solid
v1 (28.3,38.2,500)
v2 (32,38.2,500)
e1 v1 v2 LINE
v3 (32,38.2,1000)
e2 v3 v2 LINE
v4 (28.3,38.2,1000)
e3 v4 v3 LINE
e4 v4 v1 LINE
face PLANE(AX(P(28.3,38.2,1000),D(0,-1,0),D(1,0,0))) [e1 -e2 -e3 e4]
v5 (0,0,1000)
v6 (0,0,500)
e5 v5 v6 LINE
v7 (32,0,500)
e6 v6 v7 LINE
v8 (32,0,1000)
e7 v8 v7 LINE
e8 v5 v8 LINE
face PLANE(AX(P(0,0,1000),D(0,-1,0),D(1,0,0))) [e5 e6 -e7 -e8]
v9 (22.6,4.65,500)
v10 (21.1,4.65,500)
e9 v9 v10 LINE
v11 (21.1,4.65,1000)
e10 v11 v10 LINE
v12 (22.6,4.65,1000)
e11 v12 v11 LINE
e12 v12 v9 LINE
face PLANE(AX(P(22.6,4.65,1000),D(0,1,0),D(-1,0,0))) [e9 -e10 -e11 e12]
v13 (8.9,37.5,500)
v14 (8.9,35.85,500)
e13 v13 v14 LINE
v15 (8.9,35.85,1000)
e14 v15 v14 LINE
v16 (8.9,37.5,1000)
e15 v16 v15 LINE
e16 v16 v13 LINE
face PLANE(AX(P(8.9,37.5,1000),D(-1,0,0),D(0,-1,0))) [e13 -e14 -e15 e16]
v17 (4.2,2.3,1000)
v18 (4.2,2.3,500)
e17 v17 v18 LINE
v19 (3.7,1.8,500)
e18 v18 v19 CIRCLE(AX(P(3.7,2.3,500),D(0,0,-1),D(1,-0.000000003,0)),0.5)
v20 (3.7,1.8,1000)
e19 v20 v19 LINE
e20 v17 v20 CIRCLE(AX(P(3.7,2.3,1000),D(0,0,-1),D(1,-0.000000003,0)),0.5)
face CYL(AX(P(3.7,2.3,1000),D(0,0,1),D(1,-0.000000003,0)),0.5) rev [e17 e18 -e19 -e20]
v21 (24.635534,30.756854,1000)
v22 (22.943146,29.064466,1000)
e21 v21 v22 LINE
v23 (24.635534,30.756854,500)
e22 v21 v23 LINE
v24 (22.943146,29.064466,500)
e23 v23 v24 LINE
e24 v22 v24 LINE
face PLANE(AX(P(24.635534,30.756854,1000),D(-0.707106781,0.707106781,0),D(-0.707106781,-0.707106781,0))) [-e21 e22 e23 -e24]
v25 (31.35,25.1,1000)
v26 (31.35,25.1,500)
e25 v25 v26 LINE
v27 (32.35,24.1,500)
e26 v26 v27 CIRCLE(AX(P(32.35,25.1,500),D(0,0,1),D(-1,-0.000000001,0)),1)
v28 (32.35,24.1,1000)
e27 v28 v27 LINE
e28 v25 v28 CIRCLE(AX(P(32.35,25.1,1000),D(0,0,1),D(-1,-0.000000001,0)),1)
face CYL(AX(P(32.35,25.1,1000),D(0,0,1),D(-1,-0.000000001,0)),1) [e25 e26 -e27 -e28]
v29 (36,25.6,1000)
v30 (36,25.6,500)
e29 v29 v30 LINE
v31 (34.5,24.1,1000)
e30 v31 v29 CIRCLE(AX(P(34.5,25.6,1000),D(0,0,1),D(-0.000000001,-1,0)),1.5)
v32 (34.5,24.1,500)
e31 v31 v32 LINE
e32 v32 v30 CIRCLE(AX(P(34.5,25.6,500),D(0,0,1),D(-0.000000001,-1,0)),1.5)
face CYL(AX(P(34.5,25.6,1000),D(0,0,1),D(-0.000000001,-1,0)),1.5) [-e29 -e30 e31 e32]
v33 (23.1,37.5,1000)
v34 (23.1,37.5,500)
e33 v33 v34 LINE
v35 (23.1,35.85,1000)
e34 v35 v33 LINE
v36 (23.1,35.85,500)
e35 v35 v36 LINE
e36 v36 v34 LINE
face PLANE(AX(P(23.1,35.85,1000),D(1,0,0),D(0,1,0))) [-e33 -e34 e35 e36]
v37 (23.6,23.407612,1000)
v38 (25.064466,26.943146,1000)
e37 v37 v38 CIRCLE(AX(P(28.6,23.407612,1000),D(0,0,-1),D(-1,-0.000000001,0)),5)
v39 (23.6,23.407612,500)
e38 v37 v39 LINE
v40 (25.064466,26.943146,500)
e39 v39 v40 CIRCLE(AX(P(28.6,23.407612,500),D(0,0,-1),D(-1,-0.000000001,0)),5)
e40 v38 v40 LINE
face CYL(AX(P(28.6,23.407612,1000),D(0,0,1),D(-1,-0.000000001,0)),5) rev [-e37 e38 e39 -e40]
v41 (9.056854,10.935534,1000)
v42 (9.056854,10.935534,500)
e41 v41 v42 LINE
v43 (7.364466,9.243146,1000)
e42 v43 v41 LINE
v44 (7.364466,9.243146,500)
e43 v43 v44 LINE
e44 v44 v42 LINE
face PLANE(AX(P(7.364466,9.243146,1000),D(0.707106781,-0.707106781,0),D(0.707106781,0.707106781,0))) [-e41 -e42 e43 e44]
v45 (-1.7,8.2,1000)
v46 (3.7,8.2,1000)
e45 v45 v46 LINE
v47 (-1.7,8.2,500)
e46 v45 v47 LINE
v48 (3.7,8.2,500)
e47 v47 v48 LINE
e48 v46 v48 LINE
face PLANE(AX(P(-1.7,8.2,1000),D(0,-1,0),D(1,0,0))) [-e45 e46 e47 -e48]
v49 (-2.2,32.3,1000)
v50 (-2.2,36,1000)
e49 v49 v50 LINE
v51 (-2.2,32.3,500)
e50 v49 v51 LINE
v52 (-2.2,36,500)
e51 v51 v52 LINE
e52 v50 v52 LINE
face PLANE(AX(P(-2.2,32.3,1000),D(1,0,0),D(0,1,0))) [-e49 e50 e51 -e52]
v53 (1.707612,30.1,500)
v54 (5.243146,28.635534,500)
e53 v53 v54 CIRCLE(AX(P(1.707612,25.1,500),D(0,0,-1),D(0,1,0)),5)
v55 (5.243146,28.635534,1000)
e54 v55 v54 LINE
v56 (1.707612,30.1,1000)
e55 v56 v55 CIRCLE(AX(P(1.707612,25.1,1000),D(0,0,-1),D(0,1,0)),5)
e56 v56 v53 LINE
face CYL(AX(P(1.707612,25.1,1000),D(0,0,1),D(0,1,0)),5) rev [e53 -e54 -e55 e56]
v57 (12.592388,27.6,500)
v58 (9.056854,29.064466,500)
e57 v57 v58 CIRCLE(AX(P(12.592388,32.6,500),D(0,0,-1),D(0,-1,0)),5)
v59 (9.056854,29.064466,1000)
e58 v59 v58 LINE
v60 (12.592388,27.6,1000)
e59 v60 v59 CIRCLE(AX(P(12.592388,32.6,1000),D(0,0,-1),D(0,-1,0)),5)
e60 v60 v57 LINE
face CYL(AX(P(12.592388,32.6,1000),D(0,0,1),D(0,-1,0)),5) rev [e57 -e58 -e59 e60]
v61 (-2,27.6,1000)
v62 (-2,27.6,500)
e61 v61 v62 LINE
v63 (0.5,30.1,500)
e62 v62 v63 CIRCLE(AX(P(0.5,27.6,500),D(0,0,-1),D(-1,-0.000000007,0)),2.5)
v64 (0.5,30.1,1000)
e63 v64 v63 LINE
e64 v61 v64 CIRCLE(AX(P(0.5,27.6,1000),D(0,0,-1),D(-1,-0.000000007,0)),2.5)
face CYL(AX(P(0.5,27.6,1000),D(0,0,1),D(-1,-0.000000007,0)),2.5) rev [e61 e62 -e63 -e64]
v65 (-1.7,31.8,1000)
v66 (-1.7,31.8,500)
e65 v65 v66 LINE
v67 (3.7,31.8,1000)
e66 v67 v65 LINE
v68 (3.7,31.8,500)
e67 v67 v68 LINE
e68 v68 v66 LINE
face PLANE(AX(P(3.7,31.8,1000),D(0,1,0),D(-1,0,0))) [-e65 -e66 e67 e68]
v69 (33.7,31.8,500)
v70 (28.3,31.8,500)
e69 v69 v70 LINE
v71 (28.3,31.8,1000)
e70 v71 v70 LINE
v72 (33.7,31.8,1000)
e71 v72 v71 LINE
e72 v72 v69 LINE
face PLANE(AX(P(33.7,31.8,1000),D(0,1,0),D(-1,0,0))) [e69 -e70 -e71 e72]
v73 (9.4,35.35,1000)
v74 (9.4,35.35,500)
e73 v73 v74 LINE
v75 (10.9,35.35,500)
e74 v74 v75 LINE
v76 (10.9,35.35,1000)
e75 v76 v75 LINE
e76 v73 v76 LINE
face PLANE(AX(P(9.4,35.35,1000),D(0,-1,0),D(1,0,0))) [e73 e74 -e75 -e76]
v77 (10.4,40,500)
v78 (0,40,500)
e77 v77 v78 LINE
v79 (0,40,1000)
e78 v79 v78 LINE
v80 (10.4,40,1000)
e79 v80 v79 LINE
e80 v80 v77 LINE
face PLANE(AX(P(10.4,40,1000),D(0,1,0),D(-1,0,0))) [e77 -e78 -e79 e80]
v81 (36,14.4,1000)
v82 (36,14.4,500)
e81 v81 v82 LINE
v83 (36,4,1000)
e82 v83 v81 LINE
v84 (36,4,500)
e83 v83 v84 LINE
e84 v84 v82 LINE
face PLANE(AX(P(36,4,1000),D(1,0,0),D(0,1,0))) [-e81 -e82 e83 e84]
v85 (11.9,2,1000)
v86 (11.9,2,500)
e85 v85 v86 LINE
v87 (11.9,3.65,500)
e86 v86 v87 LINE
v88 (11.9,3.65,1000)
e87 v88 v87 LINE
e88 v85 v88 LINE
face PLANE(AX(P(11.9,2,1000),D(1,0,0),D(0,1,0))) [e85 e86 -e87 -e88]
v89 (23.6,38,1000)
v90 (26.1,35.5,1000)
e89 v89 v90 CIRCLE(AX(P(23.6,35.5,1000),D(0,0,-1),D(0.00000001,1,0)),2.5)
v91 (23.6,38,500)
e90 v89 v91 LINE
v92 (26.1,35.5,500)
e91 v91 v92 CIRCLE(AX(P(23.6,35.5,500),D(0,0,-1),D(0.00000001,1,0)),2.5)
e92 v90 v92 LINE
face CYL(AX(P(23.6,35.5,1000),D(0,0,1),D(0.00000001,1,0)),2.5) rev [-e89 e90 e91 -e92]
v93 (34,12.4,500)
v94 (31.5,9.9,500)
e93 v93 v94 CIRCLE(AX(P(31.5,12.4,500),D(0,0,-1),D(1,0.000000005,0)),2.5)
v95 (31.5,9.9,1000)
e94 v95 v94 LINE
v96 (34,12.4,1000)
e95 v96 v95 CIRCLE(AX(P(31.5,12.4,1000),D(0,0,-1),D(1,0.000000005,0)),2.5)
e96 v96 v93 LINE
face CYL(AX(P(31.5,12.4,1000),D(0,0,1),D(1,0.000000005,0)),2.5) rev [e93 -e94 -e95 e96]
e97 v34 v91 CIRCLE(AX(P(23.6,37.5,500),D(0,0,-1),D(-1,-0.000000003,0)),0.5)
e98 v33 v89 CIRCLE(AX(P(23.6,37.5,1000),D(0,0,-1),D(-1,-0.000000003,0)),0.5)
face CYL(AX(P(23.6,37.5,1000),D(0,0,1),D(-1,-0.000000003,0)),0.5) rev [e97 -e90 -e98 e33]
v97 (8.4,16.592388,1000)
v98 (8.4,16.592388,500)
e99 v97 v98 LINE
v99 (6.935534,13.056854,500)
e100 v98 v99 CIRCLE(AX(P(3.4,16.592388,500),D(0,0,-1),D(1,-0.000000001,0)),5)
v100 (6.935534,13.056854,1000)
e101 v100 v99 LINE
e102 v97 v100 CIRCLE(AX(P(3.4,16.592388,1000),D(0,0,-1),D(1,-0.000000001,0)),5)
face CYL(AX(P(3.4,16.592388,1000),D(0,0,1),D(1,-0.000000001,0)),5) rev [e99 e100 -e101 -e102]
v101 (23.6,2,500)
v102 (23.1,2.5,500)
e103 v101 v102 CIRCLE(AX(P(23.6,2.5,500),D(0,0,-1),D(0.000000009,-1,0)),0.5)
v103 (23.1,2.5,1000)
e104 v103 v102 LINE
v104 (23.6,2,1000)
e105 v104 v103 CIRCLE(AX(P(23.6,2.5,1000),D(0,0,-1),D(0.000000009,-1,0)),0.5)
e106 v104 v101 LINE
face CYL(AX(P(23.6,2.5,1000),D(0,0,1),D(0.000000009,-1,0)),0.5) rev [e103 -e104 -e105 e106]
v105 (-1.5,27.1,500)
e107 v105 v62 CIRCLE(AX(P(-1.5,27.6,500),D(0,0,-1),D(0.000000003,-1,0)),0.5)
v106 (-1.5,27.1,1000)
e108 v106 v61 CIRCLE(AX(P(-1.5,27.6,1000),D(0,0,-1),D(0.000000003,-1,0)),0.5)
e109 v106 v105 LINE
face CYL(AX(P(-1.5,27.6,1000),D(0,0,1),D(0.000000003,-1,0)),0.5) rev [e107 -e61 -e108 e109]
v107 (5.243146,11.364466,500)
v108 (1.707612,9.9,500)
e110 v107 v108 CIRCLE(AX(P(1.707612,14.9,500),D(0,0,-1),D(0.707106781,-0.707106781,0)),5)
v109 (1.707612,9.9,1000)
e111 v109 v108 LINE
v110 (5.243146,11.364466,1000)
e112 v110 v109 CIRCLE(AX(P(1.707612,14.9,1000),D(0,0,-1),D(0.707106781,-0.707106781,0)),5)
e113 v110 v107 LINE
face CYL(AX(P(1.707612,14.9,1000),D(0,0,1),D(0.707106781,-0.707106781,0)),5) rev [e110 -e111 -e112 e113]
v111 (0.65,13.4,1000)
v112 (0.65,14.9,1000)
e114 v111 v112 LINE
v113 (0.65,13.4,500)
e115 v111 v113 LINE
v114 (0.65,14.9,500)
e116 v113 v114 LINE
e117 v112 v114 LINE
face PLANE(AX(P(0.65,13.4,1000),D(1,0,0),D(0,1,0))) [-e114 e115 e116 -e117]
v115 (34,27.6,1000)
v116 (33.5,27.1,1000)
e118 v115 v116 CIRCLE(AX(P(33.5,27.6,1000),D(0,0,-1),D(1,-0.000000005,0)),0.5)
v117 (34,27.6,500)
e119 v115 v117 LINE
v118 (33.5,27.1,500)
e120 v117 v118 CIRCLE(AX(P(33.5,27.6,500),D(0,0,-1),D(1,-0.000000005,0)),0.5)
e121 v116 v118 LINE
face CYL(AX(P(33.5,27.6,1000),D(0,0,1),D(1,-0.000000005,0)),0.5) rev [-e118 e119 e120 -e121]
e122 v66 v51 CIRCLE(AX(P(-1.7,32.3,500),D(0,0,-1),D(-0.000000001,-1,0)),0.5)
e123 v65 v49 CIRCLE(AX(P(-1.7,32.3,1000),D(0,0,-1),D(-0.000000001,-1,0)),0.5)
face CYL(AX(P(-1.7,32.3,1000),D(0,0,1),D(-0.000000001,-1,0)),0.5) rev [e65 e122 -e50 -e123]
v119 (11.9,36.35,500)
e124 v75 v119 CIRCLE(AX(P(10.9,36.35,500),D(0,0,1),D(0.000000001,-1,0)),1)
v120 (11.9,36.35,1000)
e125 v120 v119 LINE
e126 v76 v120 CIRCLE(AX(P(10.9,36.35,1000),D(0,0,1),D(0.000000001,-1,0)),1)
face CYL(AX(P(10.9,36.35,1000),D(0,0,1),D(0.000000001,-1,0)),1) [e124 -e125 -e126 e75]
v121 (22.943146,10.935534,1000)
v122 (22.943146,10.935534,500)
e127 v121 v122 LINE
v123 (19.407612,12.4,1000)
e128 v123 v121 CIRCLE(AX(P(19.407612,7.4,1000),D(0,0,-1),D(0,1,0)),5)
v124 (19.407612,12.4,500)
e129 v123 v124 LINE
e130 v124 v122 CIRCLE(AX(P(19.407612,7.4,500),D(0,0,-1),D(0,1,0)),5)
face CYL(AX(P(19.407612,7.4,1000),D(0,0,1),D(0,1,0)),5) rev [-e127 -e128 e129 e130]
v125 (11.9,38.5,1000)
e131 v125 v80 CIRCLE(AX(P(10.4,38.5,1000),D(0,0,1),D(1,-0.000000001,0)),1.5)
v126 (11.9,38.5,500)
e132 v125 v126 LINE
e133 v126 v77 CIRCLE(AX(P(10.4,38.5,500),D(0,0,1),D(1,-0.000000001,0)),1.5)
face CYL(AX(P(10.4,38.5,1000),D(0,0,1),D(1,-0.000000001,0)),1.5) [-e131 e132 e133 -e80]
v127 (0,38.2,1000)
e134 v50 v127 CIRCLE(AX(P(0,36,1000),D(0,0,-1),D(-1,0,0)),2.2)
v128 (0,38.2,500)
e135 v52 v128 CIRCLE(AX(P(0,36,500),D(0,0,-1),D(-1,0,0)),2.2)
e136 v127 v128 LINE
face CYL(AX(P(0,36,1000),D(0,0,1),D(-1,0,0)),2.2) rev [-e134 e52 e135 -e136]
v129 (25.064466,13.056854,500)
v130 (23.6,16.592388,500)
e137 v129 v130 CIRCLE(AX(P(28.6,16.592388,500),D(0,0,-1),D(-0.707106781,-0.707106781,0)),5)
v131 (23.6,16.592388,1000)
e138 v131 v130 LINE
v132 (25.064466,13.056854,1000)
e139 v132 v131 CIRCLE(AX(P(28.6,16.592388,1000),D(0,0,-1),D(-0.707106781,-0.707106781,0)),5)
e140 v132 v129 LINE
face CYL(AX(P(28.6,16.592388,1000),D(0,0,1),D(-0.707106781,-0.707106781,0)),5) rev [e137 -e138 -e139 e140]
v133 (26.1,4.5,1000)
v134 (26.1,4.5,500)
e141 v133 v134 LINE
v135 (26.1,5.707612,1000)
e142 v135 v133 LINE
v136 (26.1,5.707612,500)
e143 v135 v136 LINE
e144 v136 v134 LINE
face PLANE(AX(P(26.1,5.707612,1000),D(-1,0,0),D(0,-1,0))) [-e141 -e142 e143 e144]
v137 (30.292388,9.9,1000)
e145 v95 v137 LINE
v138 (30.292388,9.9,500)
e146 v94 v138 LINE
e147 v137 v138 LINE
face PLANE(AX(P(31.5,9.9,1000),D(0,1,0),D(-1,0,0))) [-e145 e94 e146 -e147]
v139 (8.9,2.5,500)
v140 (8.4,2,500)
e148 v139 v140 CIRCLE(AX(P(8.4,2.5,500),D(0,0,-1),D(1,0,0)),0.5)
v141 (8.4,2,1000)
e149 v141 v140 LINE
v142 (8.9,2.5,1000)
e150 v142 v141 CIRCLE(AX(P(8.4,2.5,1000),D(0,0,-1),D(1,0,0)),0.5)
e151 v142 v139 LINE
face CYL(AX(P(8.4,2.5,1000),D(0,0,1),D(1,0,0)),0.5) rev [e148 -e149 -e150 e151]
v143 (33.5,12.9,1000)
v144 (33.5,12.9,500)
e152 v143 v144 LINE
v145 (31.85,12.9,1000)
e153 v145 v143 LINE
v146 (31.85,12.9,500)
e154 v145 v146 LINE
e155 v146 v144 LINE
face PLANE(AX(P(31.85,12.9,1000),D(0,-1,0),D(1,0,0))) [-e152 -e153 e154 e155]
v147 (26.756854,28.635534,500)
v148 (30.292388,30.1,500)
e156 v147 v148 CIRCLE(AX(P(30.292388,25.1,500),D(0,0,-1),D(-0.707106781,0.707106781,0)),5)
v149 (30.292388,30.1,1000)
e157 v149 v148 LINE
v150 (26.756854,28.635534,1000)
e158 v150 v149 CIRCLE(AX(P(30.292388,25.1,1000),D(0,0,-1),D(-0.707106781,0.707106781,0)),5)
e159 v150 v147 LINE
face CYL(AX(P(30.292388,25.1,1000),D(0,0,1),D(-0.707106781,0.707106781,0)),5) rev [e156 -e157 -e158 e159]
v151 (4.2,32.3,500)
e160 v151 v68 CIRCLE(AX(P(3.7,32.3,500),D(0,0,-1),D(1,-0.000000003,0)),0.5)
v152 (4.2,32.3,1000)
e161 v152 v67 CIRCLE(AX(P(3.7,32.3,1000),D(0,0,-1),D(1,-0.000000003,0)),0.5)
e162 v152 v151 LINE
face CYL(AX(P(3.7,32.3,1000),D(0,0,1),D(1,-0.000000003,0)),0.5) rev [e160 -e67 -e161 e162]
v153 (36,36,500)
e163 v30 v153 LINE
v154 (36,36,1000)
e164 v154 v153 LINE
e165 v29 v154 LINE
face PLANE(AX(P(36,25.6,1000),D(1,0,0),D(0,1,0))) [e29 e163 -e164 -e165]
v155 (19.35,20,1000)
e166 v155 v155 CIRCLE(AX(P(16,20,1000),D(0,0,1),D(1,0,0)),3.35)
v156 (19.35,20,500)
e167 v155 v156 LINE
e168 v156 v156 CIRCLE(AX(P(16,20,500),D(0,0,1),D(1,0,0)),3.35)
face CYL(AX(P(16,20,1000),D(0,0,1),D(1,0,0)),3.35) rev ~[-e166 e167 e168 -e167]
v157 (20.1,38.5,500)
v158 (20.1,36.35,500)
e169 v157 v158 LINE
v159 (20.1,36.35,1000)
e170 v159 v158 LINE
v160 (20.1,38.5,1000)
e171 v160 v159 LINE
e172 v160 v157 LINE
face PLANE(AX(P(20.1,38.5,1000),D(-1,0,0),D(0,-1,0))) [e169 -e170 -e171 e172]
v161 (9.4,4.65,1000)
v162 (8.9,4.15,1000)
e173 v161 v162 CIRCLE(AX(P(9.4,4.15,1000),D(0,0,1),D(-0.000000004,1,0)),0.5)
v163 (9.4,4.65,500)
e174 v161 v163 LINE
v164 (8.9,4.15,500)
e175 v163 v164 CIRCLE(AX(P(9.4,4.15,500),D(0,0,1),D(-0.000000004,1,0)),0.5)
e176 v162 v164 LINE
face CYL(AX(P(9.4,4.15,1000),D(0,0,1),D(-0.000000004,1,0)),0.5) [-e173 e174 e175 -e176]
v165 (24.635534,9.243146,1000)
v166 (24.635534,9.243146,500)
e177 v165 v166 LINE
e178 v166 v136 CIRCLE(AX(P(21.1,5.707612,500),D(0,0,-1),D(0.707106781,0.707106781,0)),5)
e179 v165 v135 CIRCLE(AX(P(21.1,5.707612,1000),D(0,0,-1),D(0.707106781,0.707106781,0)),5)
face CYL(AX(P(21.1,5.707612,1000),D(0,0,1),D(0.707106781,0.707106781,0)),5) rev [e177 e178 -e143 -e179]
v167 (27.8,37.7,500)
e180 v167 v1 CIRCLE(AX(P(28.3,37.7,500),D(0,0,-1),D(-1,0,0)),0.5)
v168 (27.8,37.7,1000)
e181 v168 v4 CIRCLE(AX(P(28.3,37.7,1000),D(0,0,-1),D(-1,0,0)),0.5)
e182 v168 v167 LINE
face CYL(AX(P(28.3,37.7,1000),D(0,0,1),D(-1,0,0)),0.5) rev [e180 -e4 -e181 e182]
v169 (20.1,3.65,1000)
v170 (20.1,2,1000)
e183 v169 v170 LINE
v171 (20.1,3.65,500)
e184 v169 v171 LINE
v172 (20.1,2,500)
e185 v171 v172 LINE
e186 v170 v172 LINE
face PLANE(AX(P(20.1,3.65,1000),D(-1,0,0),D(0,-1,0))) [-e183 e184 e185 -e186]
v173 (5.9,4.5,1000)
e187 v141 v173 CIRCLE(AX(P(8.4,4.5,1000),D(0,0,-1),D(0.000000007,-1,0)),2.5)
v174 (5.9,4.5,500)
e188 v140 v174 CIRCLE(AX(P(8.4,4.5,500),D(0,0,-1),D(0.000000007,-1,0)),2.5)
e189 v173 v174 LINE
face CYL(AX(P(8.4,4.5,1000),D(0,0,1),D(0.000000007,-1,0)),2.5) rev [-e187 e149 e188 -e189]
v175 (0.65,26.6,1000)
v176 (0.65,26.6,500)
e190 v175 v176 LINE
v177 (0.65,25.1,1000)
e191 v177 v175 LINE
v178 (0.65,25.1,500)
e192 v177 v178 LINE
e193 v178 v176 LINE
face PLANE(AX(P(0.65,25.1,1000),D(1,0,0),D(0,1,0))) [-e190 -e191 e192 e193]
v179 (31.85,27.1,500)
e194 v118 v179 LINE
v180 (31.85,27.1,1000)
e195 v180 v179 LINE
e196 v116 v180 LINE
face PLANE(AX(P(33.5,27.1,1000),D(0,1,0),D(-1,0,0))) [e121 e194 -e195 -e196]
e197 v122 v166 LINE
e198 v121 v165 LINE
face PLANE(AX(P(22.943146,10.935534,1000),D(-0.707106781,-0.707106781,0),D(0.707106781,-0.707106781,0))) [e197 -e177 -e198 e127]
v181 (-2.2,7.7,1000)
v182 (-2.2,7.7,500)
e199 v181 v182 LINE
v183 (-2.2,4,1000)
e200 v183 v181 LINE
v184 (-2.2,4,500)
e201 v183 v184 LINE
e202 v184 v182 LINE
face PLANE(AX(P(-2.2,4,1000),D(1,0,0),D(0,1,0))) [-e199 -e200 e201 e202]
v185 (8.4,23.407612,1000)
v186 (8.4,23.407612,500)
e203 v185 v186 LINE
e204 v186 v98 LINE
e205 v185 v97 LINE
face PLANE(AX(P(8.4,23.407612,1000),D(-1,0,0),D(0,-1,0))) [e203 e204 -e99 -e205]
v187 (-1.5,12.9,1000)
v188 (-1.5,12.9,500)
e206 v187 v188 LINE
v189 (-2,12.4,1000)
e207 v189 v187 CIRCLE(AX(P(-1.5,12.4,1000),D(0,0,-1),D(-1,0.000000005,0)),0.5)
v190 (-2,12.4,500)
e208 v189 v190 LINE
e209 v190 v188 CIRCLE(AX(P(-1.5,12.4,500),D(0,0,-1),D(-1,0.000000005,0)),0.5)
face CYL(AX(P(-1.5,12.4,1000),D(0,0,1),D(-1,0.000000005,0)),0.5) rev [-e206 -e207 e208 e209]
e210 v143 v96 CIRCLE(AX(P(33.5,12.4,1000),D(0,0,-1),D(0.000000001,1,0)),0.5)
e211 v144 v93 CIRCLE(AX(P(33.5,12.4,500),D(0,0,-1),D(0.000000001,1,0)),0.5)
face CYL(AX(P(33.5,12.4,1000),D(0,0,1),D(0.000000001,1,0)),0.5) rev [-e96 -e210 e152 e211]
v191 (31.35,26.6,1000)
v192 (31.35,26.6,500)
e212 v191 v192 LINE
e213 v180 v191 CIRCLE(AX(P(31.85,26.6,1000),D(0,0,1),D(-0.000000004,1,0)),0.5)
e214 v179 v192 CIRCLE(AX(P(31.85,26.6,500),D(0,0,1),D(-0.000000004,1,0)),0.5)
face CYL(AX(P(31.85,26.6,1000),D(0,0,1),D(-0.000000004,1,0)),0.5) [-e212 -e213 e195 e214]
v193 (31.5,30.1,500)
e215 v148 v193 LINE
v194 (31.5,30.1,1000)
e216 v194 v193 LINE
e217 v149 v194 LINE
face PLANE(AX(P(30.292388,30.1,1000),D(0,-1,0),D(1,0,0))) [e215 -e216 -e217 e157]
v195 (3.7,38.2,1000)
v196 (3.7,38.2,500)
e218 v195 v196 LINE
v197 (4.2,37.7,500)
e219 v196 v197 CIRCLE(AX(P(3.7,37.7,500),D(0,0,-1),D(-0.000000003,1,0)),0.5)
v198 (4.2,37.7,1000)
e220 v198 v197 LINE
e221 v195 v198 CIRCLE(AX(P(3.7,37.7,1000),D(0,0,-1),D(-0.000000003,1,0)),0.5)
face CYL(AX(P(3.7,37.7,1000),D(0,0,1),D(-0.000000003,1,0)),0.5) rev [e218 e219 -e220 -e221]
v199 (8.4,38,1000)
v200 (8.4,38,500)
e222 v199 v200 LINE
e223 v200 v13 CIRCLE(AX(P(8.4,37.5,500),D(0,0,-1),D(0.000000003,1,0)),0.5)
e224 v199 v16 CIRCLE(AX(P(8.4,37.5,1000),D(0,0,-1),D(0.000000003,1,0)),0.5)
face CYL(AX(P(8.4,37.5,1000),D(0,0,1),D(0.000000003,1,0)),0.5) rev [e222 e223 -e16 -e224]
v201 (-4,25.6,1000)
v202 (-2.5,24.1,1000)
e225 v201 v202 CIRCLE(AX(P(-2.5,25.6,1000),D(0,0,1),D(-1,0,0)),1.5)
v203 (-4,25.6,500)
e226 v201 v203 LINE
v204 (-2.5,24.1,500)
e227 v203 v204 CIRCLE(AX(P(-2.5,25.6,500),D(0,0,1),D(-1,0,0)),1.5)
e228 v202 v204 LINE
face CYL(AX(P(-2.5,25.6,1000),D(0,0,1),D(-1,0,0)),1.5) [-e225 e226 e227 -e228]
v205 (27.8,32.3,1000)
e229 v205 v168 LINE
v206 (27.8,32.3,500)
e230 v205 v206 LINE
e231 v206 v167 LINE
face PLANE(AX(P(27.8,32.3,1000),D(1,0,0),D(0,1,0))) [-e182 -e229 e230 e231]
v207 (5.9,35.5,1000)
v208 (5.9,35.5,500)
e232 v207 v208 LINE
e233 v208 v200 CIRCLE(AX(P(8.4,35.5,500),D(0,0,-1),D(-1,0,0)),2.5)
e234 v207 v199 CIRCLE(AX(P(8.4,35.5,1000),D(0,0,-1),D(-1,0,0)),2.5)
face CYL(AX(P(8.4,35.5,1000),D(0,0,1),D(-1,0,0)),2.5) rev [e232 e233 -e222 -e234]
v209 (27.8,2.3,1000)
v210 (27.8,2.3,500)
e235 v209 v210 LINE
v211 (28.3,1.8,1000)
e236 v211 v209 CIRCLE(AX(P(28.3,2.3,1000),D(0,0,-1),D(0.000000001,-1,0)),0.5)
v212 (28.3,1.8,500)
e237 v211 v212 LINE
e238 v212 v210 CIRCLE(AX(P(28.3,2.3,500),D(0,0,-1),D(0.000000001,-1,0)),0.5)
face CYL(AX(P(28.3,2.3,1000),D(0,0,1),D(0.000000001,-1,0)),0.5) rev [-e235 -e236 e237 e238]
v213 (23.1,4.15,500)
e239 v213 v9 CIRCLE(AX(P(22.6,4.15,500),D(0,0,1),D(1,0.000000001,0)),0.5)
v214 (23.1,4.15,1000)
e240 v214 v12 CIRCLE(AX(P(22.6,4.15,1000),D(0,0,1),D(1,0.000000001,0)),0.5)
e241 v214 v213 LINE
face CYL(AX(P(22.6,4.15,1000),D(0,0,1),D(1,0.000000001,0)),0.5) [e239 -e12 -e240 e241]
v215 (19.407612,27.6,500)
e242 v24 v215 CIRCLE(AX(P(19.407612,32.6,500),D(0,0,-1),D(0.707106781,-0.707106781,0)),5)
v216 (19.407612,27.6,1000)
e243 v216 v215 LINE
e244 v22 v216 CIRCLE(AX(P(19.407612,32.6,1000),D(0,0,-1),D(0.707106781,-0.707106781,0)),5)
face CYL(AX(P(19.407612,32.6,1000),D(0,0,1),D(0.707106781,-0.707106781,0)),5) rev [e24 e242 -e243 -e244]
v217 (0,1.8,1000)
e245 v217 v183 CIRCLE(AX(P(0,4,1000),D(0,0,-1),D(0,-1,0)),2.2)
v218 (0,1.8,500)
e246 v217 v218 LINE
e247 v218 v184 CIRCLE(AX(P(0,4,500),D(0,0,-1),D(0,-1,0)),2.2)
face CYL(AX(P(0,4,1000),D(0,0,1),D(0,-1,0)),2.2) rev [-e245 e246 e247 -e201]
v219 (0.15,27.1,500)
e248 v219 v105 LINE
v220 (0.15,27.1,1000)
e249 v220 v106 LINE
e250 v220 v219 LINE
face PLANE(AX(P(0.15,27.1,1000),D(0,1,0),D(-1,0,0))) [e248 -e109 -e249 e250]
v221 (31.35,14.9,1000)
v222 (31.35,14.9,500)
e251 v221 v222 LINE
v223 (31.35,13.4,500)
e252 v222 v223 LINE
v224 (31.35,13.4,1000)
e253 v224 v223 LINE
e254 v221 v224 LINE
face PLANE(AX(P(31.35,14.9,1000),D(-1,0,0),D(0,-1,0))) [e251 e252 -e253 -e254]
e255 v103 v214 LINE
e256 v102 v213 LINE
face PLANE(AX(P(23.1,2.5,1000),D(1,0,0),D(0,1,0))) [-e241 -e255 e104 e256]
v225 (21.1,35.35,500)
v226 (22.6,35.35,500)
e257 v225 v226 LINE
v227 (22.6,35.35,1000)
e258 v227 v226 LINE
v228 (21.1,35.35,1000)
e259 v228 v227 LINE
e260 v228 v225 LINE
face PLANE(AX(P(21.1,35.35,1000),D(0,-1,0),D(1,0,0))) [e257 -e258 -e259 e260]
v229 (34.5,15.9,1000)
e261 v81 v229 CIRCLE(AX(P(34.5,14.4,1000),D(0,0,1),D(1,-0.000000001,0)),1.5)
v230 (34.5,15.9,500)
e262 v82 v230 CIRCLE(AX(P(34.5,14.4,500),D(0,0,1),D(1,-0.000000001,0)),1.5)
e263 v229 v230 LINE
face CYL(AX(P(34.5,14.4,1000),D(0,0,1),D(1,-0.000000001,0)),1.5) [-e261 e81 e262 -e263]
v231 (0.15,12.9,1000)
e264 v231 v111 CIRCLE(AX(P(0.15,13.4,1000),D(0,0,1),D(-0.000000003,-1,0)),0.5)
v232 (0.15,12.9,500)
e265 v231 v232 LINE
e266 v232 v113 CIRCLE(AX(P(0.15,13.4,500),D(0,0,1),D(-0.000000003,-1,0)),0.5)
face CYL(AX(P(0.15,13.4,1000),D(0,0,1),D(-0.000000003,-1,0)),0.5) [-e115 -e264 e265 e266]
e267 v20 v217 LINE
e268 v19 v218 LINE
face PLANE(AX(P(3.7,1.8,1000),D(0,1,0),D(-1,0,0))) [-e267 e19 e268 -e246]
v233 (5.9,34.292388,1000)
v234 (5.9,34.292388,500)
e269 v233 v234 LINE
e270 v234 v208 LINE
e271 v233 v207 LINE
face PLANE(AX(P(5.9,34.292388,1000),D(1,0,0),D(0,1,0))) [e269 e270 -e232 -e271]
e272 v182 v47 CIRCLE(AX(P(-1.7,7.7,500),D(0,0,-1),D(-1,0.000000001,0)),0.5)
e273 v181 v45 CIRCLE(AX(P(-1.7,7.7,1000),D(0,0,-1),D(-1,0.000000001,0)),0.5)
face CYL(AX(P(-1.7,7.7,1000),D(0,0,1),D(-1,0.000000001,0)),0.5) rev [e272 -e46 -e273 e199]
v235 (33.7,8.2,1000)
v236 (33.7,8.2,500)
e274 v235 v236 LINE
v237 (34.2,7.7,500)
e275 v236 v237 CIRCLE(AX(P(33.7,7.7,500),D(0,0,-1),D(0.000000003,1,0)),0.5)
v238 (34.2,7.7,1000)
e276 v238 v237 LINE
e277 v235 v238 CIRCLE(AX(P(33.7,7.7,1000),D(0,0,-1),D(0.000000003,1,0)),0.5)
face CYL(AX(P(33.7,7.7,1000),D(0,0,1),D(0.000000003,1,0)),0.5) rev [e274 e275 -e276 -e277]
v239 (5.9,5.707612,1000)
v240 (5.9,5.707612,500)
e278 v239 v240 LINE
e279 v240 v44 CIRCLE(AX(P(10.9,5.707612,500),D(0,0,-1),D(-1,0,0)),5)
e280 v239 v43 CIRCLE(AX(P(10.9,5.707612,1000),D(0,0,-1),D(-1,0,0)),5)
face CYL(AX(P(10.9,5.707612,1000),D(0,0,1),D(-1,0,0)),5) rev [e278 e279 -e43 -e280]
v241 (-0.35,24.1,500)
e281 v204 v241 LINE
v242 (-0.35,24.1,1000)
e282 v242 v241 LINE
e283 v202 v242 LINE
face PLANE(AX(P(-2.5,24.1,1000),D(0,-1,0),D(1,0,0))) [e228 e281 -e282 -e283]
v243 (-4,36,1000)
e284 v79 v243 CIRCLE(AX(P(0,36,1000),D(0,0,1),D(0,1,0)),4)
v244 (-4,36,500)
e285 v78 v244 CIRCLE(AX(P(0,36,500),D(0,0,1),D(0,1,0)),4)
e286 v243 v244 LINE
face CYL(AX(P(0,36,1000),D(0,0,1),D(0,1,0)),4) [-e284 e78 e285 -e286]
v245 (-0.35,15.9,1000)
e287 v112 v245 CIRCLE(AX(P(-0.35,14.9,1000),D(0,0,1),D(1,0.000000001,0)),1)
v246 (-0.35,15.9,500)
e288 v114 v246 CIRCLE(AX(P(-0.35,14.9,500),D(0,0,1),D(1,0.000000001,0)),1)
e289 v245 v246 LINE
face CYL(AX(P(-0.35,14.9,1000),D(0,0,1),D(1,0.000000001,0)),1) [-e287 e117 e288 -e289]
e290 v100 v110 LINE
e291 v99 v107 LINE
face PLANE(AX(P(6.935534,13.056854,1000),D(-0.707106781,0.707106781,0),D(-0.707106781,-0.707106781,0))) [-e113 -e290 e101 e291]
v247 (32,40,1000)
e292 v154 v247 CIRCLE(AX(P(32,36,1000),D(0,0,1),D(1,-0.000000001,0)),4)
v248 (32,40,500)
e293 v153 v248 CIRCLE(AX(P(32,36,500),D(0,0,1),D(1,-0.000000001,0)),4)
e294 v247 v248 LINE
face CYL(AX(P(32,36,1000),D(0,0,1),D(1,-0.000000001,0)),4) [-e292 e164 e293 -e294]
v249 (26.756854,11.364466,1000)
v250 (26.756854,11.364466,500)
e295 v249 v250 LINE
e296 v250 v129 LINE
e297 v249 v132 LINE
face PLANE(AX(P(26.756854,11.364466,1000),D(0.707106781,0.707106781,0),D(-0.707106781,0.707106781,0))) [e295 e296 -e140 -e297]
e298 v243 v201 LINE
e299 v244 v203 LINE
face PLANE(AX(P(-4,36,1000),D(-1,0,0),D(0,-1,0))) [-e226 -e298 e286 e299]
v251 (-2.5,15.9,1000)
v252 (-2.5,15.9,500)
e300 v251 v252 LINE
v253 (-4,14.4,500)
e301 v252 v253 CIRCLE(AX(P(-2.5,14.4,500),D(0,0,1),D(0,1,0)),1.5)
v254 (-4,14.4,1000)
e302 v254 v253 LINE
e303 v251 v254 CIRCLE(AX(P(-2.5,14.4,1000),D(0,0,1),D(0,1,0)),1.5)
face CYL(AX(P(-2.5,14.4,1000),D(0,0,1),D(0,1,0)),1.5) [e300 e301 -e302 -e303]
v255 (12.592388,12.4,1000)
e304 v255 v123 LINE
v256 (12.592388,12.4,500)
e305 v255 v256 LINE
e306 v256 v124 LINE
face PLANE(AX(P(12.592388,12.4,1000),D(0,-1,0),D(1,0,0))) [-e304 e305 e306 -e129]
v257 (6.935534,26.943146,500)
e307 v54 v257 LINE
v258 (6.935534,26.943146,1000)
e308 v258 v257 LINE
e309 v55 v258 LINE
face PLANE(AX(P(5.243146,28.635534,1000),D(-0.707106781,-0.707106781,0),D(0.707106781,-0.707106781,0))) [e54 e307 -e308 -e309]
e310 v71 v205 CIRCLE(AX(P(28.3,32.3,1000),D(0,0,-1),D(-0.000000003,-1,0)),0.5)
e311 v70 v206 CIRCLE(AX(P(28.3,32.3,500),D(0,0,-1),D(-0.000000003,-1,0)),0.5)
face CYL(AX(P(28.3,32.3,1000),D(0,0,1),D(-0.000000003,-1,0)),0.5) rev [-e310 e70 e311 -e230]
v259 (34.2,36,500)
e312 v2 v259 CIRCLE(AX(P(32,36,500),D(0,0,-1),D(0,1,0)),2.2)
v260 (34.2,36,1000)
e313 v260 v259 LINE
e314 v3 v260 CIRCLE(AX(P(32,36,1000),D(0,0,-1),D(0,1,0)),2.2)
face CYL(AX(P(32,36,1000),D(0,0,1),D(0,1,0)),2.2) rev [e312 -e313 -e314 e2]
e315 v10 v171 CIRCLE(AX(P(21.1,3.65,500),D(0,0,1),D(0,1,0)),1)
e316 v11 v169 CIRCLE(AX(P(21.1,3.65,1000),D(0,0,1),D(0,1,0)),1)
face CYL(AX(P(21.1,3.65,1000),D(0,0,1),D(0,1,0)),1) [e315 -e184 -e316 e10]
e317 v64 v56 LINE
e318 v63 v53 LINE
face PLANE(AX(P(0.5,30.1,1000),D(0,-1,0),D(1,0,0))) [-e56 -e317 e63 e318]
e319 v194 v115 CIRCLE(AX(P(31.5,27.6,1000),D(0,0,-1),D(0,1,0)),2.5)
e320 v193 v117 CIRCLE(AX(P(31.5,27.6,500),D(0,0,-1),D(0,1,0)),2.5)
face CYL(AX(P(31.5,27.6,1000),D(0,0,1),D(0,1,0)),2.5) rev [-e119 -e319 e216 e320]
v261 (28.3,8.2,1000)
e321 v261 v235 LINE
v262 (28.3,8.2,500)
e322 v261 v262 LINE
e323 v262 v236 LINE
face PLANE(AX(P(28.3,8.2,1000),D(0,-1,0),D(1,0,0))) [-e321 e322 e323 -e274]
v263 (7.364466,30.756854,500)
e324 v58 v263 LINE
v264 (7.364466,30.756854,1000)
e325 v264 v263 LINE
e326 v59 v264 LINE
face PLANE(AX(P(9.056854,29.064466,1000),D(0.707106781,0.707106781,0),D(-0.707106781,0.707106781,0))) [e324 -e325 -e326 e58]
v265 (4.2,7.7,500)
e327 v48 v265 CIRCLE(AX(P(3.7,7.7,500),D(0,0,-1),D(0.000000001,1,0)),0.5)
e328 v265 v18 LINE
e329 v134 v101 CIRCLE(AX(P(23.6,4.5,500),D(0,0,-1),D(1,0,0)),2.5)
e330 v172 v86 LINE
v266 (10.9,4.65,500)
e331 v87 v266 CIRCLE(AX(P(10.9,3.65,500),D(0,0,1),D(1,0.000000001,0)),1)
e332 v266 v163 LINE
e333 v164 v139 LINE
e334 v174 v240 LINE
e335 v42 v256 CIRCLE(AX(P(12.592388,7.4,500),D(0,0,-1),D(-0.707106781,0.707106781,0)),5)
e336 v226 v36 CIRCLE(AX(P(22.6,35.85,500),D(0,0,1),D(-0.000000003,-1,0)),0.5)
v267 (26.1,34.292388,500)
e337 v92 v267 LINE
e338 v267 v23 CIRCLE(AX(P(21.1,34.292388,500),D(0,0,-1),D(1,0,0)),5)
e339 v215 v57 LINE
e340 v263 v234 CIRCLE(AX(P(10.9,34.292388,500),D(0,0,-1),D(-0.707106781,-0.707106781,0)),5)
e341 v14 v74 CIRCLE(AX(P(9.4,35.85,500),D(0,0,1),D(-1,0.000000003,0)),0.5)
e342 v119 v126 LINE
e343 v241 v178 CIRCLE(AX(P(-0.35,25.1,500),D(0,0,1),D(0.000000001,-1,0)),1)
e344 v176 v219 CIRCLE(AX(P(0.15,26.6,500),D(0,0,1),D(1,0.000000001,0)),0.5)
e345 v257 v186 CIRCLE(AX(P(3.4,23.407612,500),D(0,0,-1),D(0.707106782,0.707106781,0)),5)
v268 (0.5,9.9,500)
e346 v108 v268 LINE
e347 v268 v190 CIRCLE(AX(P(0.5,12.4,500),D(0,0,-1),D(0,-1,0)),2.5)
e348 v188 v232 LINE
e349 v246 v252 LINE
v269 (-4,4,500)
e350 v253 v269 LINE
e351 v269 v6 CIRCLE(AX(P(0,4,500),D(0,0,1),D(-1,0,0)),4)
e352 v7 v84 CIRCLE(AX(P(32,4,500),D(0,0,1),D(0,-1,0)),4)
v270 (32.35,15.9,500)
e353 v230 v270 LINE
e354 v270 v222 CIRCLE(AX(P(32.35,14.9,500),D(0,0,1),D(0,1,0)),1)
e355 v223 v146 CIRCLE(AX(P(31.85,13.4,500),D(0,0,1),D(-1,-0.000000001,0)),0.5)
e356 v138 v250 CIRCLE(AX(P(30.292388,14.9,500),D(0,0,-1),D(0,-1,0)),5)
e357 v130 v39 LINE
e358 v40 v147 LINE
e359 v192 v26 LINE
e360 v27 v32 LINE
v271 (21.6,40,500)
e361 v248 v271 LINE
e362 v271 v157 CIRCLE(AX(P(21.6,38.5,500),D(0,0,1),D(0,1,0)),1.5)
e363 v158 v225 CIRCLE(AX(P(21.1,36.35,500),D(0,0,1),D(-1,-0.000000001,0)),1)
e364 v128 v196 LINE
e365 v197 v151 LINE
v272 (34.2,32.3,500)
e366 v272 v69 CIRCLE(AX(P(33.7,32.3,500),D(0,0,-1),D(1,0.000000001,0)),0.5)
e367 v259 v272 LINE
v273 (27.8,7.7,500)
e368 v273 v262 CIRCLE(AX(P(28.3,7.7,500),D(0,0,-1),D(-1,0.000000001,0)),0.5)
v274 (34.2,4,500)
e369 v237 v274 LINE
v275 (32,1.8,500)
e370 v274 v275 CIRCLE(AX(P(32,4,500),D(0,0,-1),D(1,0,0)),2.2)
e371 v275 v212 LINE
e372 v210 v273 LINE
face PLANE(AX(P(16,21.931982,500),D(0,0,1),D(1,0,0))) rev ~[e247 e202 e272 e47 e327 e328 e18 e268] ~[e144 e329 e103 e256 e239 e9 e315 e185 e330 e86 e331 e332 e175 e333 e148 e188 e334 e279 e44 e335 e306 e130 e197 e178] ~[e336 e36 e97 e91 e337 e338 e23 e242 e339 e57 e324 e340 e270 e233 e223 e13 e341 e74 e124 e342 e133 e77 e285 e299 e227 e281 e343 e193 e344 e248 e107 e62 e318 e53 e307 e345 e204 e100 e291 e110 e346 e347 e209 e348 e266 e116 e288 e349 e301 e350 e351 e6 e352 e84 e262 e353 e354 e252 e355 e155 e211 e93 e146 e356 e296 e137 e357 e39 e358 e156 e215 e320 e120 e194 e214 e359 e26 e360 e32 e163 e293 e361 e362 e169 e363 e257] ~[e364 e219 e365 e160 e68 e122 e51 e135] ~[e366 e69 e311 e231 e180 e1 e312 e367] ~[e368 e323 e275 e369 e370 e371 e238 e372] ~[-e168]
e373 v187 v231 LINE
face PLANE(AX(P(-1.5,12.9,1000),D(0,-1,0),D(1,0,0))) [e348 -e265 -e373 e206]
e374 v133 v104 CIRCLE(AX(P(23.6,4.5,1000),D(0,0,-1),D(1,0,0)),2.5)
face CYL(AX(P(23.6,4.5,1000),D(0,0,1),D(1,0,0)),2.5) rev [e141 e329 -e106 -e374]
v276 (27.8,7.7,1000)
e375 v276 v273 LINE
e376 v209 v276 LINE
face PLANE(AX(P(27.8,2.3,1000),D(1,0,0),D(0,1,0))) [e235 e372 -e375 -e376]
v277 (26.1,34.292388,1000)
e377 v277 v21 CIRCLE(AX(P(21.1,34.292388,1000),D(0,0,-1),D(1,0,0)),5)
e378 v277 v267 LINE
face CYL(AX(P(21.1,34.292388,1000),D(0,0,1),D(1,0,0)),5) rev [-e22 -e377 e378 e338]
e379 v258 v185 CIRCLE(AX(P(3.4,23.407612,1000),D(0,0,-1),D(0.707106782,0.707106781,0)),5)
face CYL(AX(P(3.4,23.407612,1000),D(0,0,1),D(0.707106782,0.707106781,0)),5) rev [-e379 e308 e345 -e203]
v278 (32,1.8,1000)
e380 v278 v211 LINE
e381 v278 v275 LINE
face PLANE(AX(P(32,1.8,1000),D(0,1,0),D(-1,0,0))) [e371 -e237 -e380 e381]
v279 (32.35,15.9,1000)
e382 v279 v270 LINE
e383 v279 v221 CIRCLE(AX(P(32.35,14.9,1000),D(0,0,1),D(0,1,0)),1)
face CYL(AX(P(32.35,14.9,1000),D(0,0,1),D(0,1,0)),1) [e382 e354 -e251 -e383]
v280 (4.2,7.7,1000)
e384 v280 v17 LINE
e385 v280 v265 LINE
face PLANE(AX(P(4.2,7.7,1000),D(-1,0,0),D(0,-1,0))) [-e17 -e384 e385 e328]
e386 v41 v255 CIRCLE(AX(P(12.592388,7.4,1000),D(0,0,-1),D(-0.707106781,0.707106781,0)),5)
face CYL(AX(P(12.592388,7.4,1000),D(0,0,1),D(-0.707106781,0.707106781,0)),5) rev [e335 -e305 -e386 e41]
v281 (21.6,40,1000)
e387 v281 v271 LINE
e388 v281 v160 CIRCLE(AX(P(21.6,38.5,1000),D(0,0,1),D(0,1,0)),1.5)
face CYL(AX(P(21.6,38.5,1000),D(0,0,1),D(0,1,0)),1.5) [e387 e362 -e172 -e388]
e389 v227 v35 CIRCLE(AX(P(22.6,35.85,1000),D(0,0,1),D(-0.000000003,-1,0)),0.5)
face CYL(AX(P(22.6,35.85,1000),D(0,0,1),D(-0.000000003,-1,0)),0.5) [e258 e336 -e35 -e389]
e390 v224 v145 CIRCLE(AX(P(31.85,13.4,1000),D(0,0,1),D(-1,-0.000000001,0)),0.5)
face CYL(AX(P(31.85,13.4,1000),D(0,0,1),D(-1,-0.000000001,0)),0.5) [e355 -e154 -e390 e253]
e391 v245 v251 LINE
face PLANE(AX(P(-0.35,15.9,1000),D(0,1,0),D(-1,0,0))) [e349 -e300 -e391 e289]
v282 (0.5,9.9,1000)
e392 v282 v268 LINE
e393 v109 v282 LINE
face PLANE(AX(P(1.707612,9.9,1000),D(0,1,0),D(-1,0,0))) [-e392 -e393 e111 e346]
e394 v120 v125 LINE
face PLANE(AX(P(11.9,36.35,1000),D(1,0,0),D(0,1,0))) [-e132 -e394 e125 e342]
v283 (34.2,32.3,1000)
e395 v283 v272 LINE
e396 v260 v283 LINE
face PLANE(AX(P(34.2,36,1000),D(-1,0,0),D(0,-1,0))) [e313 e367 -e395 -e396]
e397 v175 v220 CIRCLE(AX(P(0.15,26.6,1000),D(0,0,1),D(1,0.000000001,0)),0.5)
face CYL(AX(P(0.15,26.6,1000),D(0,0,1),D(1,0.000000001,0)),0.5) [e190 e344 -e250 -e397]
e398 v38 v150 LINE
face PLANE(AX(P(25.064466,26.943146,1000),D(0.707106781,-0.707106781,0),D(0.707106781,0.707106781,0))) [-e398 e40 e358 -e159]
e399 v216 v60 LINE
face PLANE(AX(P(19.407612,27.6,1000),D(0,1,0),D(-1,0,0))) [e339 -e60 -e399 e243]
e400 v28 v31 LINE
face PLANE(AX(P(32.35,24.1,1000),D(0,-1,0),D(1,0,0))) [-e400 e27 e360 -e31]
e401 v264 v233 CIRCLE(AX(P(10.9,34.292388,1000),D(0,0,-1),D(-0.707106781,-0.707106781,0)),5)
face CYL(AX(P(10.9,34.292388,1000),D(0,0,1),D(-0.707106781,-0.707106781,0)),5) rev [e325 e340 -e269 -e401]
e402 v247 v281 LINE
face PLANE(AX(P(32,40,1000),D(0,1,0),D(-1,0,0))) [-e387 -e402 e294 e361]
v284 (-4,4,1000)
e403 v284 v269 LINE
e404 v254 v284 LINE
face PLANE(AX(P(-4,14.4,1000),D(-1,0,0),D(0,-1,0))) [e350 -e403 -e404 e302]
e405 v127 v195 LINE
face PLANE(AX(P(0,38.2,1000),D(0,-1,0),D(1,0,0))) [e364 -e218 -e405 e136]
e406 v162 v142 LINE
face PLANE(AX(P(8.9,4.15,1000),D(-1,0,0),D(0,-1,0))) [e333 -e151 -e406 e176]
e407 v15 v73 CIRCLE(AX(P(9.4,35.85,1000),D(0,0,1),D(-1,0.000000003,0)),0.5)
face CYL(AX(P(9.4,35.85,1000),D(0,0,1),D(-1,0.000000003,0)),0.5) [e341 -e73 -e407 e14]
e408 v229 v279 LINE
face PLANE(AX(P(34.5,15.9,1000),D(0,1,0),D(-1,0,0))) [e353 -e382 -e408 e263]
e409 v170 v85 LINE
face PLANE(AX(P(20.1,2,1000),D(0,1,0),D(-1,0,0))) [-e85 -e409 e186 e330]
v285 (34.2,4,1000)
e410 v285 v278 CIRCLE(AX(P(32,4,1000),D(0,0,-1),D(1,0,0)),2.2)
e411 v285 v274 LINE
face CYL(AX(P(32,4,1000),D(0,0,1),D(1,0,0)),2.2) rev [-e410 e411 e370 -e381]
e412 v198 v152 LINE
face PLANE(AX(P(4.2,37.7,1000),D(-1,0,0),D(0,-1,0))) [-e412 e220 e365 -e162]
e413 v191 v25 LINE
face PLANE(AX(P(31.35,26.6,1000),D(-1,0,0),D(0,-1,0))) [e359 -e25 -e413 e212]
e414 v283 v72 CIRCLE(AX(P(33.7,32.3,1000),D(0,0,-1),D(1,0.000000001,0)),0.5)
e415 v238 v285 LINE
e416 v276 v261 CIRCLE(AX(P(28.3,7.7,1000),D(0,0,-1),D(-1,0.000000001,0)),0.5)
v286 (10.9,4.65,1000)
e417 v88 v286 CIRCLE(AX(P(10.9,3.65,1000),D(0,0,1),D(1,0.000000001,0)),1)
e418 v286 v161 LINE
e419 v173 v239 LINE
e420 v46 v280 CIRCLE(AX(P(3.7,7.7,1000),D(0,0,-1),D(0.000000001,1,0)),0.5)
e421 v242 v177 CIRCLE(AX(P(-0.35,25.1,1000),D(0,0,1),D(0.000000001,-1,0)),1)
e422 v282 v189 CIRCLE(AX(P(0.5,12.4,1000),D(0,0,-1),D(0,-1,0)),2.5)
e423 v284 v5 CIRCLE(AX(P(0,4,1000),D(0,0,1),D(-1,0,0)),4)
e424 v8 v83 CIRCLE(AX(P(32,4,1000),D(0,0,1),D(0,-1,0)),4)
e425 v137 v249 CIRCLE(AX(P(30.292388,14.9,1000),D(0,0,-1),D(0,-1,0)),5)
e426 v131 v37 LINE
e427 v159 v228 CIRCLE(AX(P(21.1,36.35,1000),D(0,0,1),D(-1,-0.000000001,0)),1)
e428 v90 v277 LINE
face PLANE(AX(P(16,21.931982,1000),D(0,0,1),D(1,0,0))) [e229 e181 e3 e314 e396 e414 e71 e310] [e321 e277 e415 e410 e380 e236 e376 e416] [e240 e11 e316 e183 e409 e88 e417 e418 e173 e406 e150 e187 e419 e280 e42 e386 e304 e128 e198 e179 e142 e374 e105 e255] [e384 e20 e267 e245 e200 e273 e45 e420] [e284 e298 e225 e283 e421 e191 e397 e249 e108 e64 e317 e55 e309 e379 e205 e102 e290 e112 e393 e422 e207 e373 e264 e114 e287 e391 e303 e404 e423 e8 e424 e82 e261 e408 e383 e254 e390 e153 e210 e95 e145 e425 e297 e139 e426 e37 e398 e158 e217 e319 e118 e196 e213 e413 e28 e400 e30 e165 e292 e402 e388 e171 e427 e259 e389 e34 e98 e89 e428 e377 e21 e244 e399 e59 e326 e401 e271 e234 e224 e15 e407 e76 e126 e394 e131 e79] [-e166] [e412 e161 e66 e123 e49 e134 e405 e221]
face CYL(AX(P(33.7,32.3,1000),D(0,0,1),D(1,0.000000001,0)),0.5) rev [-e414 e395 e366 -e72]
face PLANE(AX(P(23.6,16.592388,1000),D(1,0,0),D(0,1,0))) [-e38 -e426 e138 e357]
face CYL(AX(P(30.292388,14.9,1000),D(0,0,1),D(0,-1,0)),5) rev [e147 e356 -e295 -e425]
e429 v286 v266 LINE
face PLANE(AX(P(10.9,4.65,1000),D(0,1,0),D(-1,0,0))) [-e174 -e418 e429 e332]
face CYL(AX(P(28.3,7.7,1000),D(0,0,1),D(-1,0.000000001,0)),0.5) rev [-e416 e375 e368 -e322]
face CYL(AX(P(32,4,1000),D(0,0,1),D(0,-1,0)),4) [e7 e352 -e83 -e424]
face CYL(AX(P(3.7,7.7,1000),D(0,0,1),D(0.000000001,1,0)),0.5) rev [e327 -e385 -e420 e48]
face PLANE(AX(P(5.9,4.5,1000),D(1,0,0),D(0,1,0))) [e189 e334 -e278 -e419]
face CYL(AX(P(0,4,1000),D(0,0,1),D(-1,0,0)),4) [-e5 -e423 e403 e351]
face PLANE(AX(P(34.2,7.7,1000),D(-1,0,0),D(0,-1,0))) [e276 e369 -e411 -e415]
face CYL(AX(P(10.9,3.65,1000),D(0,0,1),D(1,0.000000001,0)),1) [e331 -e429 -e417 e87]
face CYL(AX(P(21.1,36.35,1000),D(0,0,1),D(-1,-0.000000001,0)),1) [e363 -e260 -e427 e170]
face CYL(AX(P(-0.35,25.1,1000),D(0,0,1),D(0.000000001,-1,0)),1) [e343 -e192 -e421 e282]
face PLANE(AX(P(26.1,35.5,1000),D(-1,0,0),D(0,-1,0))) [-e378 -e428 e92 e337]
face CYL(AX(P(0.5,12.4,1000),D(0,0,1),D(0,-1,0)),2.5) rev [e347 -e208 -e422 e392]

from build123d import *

# Parameters (mm, degrees)
SKIZZE1_R                       = 3.35
AUFSATZ_LINEAR_AUSTRAGEN1_DEPTH = 500


with BuildPart() as part:
    # Skizze1 → Aufsatz-Linear austragen1 (new body)
    with BuildSketch(Plane.XY.offset(1000)):
        with BuildLine():
            Line((5.899999985, 34.292388165), (5.899999985, 35.500000003))
            ThreePointArc((5.899999985, 35.500000003), (6.632233037, 37.267766961), (8.399999999, 38.000000003))
            ThreePointArc((8.399999999, 38.000000003), (8.753553388, 37.853553393), (8.899999996, 37.500000003))
            Line((8.899999996, 37.500000003), (8.899999996, 35.850000004))
            ThreePointArc((8.899999996, 35.850000004), (9.046446605, 35.496446613), (9.399999996, 35.350000004))
            Line((9.399999996, 35.350000004), (10.899999947, 35.350000004))
            ThreePointArc((10.899999947, 35.350000004), (11.607106728, 35.642893223), (11.899999947, 36.350000004))
            Line((11.899999947, 36.350000004), (11.899999947, 38.500000016))
            ThreePointArc((11.899999947, 38.500000016), (11.460660119, 39.560660188), (10.399999947, 40.000000016))
            Line((10.399999947, 40.000000016), (5.2e-08, 40.000000016))
            ThreePointArc((5.2e-08, 40.000000016), (-2.828427117, 38.828427123), (-4.000000011, 35.999999954))
            Line((-4.000000011, 35.999999954), (-4.000000011, 25.599999996))
            ThreePointArc((-4.000000011, 25.599999996), (-3.560660183, 24.539339825), (-2.500000012, 24.099999997))
            Line((-2.500000012, 24.099999997), (-0.350000011, 24.099999997))
            ThreePointArc((-0.350000011, 24.099999997), (0.35710677, 24.392893216), (0.649999989, 25.099999997))
            Line((0.649999989, 25.099999997), (0.649999989, 26.599999997))
            ThreePointArc((0.649999989, 26.599999997), (0.50355338, 26.953553387), (0.149999989, 27.099999997))
            Line((0.149999989, 27.099999997), (-1.500000011, 27.099999997))
            ThreePointArc((-1.500000011, 27.099999997), (-1.853553401, 27.246446605), (-2.000000011, 27.599999993))
            ThreePointArc((-2.000000011, 27.599999993), (-1.26776697, 29.367766957), (0.499999989, 30.10000001))
            Line((0.499999989, 30.10000001), (1.707611833, 30.10000001))
            ThreePointArc((1.707611833, 30.10000001), (3.621028995, 29.719397673), (5.243145739, 28.635533916))
            Line((5.243145739, 28.635533916), (6.935533894, 26.943145761))
            ThreePointArc((6.935533894, 26.943145761), (8.01939765, 25.321029017), (8.399999988, 23.407611855))
            Line((8.399999988, 23.407611855), (8.399999988, 16.592388122))
            ThreePointArc((8.399999988, 16.592388122), (8.01939765, 14.678970961), (6.935533894, 13.056854217))
            Line((6.935533894, 13.056854217), (5.243145737, 11.36446606))
            ThreePointArc((5.243145737, 11.36446606), (3.621028993, 10.280602303), (1.707611831, 9.899999966))
            Line((1.707611831, 9.899999966), (0.49999999, 9.899999966))
            ThreePointArc((0.49999999, 9.899999966), (-1.267766968, 10.632233018), (-2.00000001, 12.399999979))
            ThreePointArc((-2.00000001, 12.399999979), (-1.8535534, 12.753553368), (-1.50000001, 12.899999977))
            Line((-1.50000001, 12.899999977), (0.149999989, 12.899999977))
            ThreePointArc((0.149999989, 12.899999977), (0.50355338, 13.046446586), (0.649999989, 13.399999977))
            Line((0.649999989, 13.399999977), (0.649999989, 14.899999976))
            ThreePointArc((0.649999989, 14.899999976), (0.35710677, 15.607106757), (-0.350000011, 15.899999976))
            Line((-0.350000011, 15.899999976), (-2.50000001, 15.899999976))
            ThreePointArc((-2.50000001, 15.899999976), (-3.560660182, 15.460660148), (-4.000000011, 14.399999976))
            Line((-4.000000011, 14.399999976), (-4.000000011, 4.000000069))
            ThreePointArc((-4.000000011, 4.000000069), (-2.828427121, 1.171572909), (4e-08, 1.9e-08))
            Line((4e-08, 1.9e-08), (31.999999925, 1.9e-08))
            ThreePointArc((31.999999925, 1.9e-08), (34.828427086, 1.171572909), (35.999999976, 4.00000007))
            Line((35.999999976, 4.00000007), (35.999999976, 14.399999977))
            ThreePointArc((35.999999976, 14.399999977), (35.560660149, 15.460660148), (34.499999978, 15.899999976))
            Line((34.499999978, 15.899999976), (32.349999991, 15.899999976))
            ThreePointArc((32.349999991, 15.899999976), (31.642893209, 15.607106757), (31.34999999, 14.899999976))
            Line((31.34999999, 14.899999976), (31.34999999, 13.399999977))
            ThreePointArc((31.34999999, 13.399999977), (31.4964466, 13.046446586), (31.84999999, 12.899999977))
            Line((31.84999999, 12.899999977), (33.499999991, 12.899999977))
            ThreePointArc((33.499999991, 12.899999977), (33.853553381, 12.753553368), (33.999999991, 12.399999979))
            ThreePointArc((33.999999991, 12.399999979), (33.267766949, 10.632233018), (31.499999991, 9.899999966))
            Line((31.499999991, 9.899999966), (30.292388185, 9.899999966))
            ThreePointArc((30.292388185, 9.899999966), (28.378971023, 10.280602303), (26.756854279, 11.36446606))
            Line((26.756854279, 11.36446606), (25.064466082, 13.056854257))
            ThreePointArc((25.064466082, 13.056854257), (23.980602325, 14.678971001), (23.599999988, 16.592388163))
            Line((23.599999988, 16.592388163), (23.599999988, 23.407611842))
            ThreePointArc((23.599999988, 23.407611842), (23.980602325, 25.321029004), (25.064466082, 26.943145747))
            Line((25.064466082, 26.943145747), (26.75685425, 28.635533916))
            ThreePointArc((26.75685425, 28.635533916), (28.378970995, 29.719397673), (30.292388156, 30.10000001))
            Line((30.292388156, 30.10000001), (31.499999989, 30.10000001))
            ThreePointArc((31.499999989, 30.10000001), (33.267766948, 29.367766957), (33.999999989, 27.599999993))
            ThreePointArc((33.999999989, 27.599999993), (33.853553379, 27.246446605), (33.499999989, 27.099999997))
            Line((33.499999989, 27.099999997), (31.84999999, 27.099999997))
            ThreePointArc((31.84999999, 27.099999997), (31.4964466, 26.953553387), (31.34999999, 26.599999997))
            Line((31.34999999, 26.599999997), (31.34999999, 25.099999997))
            ThreePointArc((31.34999999, 25.099999997), (31.642893209, 24.392893216), (32.34999999, 24.099999997))
            Line((32.34999999, 24.099999997), (34.499999976, 24.099999997))
            ThreePointArc((34.499999976, 24.099999997), (35.560660148, 24.539339825), (35.999999976, 25.599999997))
            Line((35.999999976, 25.599999997), (35.999999976, 35.999999953))
            ThreePointArc((35.999999976, 35.999999953), (34.828427083, 38.828427123), (31.999999914, 40.000000016))
            Line((31.999999914, 40.000000016), (21.600000015, 40.000000016))
            ThreePointArc((21.600000015, 40.000000016), (20.539339844, 39.560660188), (20.100000016, 38.500000017))
            Line((20.100000016, 38.500000017), (20.100000016, 36.350000004))
            ThreePointArc((20.100000016, 36.350000004), (20.392893235, 35.642893223), (21.100000017, 35.350000004))
            Line((21.100000017, 35.350000004), (22.600000014, 35.350000004))
            ThreePointArc((22.600000014, 35.350000004), (22.953553405, 35.496446613), (23.100000014, 35.850000004))
            Line((23.100000014, 35.850000004), (23.100000014, 37.500000007))
            ThreePointArc((23.100000014, 37.500000007), (23.246446625, 37.8535534), (23.600000019, 38.000000007))
            ThreePointArc((23.600000019, 38.000000007), (25.367766955, 37.267766951), (26.099999992, 35.500000007))
            Line((26.099999992, 35.500000007), (26.099999992, 34.292388127))
            ThreePointArc((26.099999992, 34.292388127), (25.719397655, 32.378970966), (24.635533898, 30.756854221))
            Line((24.635533898, 30.756854221), (22.943145779, 29.064466103))
            ThreePointArc((22.943145779, 29.064466103), (21.321029035, 27.980602346), (19.407611873, 27.600000009))
            Line((19.407611873, 27.600000009), (12.592388142, 27.600000009))
            ThreePointArc((12.592388142, 27.600000009), (10.678970981, 27.980602346), (9.056854237, 29.064466102))
            Line((9.056854237, 29.064466102), (7.36446608, 30.75685426))
            ThreePointArc((7.36446608, 30.75685426), (6.280602323, 32.378971004), (5.899999985, 34.292388165))
        make_face()
        with Locations((15.999999985, 20)):
            Circle(SKIZZE1_R, mode=Mode.SUBTRACT)
        with BuildLine():
            Line((27.799999996, 32.299999708), (27.799999996, 37.700000083))
            ThreePointArc((27.799999996, 37.700000083), (27.946446591, 38.053553439), (28.299999947, 38.200000034))
            Line((28.299999947, 38.200000034), (31.999999914, 38.200000034))
            ThreePointArc((31.999999914, 38.200000034), (33.555634889, 37.555634929), (34.199999994, 35.999999953))
            Line((34.199999994, 35.999999953), (34.199999994, 32.300000046))
            ThreePointArc((34.199999994, 32.300000046), (34.053553382, 31.946446648), (33.699999983, 31.800000035))
            Line((33.699999983, 31.800000035), (28.299999669, 31.800000035))
            ThreePointArc((28.299999669, 31.800000035), (27.94644651, 31.946446549), (27.799999996, 32.299999708))
        make_face(mode=Mode.SUBTRACT)
        with BuildLine():
            Line((28.299999669, 8.199999998), (33.700000043, 8.199999998))
            ThreePointArc((33.700000043, 8.199999998), (34.053553399, 8.053553402), (34.199999994, 7.700000046))
            Line((34.199999994, 7.700000046), (34.199999994, 4.00000007))
            ThreePointArc((34.199999994, 4.00000007), (33.555634893, 2.444365103), (31.999999925, 1.800000001))
            Line((31.999999925, 1.800000001), (28.300000007, 1.800000001))
            ThreePointArc((28.300000007, 1.800000001), (27.946446609, 1.946446613), (27.799999996, 2.300000012))
            Line((27.799999996, 2.300000012), (27.799999996, 7.700000324))
            ThreePointArc((27.799999996, 7.700000324), (27.94644651, 8.053553484), (28.299999669, 8.199999998))
        make_face(mode=Mode.SUBTRACT)
        with BuildLine():
            Line((3.700000285, 31.800000035), (-1.700000077, 31.800000035))
            ThreePointArc((-1.700000077, 31.800000035), (-2.053553433, 31.94644663), (-2.200000029, 32.299999986))
            Line((-2.200000029, 32.299999986), (-2.200000029, 35.999999954))
            ThreePointArc((-2.200000029, 35.999999954), (-1.555634924, 37.555634929), (5.2e-08, 38.200000034))
            Line((5.2e-08, 38.200000034), (3.699999947, 38.200000034))
            ThreePointArc((3.699999947, 38.200000034), (4.053553346, 38.053553422), (4.199999959, 37.700000023))
            Line((4.199999959, 37.700000023), (4.199999959, 32.299999708))
            ThreePointArc((4.199999959, 32.299999708), (4.053553445, 31.946446549), (3.700000285, 31.800000035))
        make_face(mode=Mode.SUBTRACT)
        with BuildLine():
            Line((4.199999959, 7.700000324), (4.199999959, 2.299999952))
            ThreePointArc((4.199999959, 2.299999952), (4.053553363, 1.946446596), (3.700000007, 1.800000001))
            Line((3.700000007, 1.800000001), (4e-08, 1.800000001))
            ThreePointArc((4e-08, 1.800000001), (-1.555634927, 2.444365102), (-2.200000029, 4.000000069))
            Line((-2.200000029, 4.000000069), (-2.200000029, 7.699999986))
            ThreePointArc((-2.200000029, 7.699999986), (-2.053553416, 8.053553385), (-1.700000017, 8.199999998))
            Line((-1.700000017, 8.199999998), (3.700000285, 8.199999998))
            ThreePointArc((3.700000285, 8.199999998), (4.053553445, 8.053553484), (4.199999959, 7.700000324))
        make_face(mode=Mode.SUBTRACT)
        with BuildLine():
            Line((20.100000016, 2.000000008), (11.899999947, 2.000000008))
            Line((11.899999947, 2.000000008), (11.899999947, 3.649999992))
            ThreePointArc((11.899999947, 3.649999992), (11.607106728, 4.357106773), (10.899999947, 4.649999992))
            Line((10.899999947, 4.649999992), (9.399999996, 4.649999992))
            ThreePointArc((9.399999996, 4.649999992), (9.046446606, 4.503553382), (8.899999996, 4.149999992))
            Line((8.899999996, 4.149999992), (8.899999996, 2.499999991))
            ThreePointArc((8.899999996, 2.499999991), (8.753553389, 2.146446604), (8.400000003, 1.999999994))
            ThreePointArc((8.400000003, 1.999999994), (6.632233039, 2.732233035), (5.899999985, 4.499999994))
            Line((5.899999985, 4.499999994), (5.899999985, 5.707611838))
            ThreePointArc((5.899999985, 5.707611838), (6.280602323, 7.621029001), (7.36446608, 9.243145746))
            Line((7.36446608, 9.243145746), (9.056854238, 10.935533903))
            ThreePointArc((9.056854238, 10.935533903), (10.678970982, 12.01939766), (12.592388143, 12.399999997))
            Line((12.592388143, 12.399999997), (19.407611847, 12.399999997))
            ThreePointArc((19.407611847, 12.399999997), (21.321029008, 12.01939766), (22.943145752, 10.935533904))
            Line((22.943145752, 10.935533904), (24.635533898, 9.243145757))
            ThreePointArc((24.635533898, 9.243145757), (25.719397655, 7.621029013), (26.099999992, 5.707611851))
            Line((26.099999992, 5.707611851), (26.099999992, 4.499999993))
            ThreePointArc((26.099999992, 4.499999993), (25.367766954, 2.73223305), (23.600000019, 1.999999995))
            ThreePointArc((23.600000019, 1.999999995), (23.246446625, 2.146446603), (23.100000014, 2.499999995))
            Line((23.100000014, 2.499999995), (23.100000014, 4.149999994))
            ThreePointArc((23.100000014, 4.149999994), (22.953553405, 4.503553383), (22.600000016, 4.649999992))
            Line((22.600000016, 4.649999992), (21.100000017, 4.649999992))
            ThreePointArc((21.100000017, 4.649999992), (20.392893235, 4.357106773), (20.100000016, 3.649999992))
            Line((20.100000016, 3.649999992), (20.100000016, 2.000000008))
        make_face(mode=Mode.SUBTRACT)
    extrude(amount=-AUFSATZ_LINEAR_AUSTRAGEN1_DEPTH)


solid = part.part
